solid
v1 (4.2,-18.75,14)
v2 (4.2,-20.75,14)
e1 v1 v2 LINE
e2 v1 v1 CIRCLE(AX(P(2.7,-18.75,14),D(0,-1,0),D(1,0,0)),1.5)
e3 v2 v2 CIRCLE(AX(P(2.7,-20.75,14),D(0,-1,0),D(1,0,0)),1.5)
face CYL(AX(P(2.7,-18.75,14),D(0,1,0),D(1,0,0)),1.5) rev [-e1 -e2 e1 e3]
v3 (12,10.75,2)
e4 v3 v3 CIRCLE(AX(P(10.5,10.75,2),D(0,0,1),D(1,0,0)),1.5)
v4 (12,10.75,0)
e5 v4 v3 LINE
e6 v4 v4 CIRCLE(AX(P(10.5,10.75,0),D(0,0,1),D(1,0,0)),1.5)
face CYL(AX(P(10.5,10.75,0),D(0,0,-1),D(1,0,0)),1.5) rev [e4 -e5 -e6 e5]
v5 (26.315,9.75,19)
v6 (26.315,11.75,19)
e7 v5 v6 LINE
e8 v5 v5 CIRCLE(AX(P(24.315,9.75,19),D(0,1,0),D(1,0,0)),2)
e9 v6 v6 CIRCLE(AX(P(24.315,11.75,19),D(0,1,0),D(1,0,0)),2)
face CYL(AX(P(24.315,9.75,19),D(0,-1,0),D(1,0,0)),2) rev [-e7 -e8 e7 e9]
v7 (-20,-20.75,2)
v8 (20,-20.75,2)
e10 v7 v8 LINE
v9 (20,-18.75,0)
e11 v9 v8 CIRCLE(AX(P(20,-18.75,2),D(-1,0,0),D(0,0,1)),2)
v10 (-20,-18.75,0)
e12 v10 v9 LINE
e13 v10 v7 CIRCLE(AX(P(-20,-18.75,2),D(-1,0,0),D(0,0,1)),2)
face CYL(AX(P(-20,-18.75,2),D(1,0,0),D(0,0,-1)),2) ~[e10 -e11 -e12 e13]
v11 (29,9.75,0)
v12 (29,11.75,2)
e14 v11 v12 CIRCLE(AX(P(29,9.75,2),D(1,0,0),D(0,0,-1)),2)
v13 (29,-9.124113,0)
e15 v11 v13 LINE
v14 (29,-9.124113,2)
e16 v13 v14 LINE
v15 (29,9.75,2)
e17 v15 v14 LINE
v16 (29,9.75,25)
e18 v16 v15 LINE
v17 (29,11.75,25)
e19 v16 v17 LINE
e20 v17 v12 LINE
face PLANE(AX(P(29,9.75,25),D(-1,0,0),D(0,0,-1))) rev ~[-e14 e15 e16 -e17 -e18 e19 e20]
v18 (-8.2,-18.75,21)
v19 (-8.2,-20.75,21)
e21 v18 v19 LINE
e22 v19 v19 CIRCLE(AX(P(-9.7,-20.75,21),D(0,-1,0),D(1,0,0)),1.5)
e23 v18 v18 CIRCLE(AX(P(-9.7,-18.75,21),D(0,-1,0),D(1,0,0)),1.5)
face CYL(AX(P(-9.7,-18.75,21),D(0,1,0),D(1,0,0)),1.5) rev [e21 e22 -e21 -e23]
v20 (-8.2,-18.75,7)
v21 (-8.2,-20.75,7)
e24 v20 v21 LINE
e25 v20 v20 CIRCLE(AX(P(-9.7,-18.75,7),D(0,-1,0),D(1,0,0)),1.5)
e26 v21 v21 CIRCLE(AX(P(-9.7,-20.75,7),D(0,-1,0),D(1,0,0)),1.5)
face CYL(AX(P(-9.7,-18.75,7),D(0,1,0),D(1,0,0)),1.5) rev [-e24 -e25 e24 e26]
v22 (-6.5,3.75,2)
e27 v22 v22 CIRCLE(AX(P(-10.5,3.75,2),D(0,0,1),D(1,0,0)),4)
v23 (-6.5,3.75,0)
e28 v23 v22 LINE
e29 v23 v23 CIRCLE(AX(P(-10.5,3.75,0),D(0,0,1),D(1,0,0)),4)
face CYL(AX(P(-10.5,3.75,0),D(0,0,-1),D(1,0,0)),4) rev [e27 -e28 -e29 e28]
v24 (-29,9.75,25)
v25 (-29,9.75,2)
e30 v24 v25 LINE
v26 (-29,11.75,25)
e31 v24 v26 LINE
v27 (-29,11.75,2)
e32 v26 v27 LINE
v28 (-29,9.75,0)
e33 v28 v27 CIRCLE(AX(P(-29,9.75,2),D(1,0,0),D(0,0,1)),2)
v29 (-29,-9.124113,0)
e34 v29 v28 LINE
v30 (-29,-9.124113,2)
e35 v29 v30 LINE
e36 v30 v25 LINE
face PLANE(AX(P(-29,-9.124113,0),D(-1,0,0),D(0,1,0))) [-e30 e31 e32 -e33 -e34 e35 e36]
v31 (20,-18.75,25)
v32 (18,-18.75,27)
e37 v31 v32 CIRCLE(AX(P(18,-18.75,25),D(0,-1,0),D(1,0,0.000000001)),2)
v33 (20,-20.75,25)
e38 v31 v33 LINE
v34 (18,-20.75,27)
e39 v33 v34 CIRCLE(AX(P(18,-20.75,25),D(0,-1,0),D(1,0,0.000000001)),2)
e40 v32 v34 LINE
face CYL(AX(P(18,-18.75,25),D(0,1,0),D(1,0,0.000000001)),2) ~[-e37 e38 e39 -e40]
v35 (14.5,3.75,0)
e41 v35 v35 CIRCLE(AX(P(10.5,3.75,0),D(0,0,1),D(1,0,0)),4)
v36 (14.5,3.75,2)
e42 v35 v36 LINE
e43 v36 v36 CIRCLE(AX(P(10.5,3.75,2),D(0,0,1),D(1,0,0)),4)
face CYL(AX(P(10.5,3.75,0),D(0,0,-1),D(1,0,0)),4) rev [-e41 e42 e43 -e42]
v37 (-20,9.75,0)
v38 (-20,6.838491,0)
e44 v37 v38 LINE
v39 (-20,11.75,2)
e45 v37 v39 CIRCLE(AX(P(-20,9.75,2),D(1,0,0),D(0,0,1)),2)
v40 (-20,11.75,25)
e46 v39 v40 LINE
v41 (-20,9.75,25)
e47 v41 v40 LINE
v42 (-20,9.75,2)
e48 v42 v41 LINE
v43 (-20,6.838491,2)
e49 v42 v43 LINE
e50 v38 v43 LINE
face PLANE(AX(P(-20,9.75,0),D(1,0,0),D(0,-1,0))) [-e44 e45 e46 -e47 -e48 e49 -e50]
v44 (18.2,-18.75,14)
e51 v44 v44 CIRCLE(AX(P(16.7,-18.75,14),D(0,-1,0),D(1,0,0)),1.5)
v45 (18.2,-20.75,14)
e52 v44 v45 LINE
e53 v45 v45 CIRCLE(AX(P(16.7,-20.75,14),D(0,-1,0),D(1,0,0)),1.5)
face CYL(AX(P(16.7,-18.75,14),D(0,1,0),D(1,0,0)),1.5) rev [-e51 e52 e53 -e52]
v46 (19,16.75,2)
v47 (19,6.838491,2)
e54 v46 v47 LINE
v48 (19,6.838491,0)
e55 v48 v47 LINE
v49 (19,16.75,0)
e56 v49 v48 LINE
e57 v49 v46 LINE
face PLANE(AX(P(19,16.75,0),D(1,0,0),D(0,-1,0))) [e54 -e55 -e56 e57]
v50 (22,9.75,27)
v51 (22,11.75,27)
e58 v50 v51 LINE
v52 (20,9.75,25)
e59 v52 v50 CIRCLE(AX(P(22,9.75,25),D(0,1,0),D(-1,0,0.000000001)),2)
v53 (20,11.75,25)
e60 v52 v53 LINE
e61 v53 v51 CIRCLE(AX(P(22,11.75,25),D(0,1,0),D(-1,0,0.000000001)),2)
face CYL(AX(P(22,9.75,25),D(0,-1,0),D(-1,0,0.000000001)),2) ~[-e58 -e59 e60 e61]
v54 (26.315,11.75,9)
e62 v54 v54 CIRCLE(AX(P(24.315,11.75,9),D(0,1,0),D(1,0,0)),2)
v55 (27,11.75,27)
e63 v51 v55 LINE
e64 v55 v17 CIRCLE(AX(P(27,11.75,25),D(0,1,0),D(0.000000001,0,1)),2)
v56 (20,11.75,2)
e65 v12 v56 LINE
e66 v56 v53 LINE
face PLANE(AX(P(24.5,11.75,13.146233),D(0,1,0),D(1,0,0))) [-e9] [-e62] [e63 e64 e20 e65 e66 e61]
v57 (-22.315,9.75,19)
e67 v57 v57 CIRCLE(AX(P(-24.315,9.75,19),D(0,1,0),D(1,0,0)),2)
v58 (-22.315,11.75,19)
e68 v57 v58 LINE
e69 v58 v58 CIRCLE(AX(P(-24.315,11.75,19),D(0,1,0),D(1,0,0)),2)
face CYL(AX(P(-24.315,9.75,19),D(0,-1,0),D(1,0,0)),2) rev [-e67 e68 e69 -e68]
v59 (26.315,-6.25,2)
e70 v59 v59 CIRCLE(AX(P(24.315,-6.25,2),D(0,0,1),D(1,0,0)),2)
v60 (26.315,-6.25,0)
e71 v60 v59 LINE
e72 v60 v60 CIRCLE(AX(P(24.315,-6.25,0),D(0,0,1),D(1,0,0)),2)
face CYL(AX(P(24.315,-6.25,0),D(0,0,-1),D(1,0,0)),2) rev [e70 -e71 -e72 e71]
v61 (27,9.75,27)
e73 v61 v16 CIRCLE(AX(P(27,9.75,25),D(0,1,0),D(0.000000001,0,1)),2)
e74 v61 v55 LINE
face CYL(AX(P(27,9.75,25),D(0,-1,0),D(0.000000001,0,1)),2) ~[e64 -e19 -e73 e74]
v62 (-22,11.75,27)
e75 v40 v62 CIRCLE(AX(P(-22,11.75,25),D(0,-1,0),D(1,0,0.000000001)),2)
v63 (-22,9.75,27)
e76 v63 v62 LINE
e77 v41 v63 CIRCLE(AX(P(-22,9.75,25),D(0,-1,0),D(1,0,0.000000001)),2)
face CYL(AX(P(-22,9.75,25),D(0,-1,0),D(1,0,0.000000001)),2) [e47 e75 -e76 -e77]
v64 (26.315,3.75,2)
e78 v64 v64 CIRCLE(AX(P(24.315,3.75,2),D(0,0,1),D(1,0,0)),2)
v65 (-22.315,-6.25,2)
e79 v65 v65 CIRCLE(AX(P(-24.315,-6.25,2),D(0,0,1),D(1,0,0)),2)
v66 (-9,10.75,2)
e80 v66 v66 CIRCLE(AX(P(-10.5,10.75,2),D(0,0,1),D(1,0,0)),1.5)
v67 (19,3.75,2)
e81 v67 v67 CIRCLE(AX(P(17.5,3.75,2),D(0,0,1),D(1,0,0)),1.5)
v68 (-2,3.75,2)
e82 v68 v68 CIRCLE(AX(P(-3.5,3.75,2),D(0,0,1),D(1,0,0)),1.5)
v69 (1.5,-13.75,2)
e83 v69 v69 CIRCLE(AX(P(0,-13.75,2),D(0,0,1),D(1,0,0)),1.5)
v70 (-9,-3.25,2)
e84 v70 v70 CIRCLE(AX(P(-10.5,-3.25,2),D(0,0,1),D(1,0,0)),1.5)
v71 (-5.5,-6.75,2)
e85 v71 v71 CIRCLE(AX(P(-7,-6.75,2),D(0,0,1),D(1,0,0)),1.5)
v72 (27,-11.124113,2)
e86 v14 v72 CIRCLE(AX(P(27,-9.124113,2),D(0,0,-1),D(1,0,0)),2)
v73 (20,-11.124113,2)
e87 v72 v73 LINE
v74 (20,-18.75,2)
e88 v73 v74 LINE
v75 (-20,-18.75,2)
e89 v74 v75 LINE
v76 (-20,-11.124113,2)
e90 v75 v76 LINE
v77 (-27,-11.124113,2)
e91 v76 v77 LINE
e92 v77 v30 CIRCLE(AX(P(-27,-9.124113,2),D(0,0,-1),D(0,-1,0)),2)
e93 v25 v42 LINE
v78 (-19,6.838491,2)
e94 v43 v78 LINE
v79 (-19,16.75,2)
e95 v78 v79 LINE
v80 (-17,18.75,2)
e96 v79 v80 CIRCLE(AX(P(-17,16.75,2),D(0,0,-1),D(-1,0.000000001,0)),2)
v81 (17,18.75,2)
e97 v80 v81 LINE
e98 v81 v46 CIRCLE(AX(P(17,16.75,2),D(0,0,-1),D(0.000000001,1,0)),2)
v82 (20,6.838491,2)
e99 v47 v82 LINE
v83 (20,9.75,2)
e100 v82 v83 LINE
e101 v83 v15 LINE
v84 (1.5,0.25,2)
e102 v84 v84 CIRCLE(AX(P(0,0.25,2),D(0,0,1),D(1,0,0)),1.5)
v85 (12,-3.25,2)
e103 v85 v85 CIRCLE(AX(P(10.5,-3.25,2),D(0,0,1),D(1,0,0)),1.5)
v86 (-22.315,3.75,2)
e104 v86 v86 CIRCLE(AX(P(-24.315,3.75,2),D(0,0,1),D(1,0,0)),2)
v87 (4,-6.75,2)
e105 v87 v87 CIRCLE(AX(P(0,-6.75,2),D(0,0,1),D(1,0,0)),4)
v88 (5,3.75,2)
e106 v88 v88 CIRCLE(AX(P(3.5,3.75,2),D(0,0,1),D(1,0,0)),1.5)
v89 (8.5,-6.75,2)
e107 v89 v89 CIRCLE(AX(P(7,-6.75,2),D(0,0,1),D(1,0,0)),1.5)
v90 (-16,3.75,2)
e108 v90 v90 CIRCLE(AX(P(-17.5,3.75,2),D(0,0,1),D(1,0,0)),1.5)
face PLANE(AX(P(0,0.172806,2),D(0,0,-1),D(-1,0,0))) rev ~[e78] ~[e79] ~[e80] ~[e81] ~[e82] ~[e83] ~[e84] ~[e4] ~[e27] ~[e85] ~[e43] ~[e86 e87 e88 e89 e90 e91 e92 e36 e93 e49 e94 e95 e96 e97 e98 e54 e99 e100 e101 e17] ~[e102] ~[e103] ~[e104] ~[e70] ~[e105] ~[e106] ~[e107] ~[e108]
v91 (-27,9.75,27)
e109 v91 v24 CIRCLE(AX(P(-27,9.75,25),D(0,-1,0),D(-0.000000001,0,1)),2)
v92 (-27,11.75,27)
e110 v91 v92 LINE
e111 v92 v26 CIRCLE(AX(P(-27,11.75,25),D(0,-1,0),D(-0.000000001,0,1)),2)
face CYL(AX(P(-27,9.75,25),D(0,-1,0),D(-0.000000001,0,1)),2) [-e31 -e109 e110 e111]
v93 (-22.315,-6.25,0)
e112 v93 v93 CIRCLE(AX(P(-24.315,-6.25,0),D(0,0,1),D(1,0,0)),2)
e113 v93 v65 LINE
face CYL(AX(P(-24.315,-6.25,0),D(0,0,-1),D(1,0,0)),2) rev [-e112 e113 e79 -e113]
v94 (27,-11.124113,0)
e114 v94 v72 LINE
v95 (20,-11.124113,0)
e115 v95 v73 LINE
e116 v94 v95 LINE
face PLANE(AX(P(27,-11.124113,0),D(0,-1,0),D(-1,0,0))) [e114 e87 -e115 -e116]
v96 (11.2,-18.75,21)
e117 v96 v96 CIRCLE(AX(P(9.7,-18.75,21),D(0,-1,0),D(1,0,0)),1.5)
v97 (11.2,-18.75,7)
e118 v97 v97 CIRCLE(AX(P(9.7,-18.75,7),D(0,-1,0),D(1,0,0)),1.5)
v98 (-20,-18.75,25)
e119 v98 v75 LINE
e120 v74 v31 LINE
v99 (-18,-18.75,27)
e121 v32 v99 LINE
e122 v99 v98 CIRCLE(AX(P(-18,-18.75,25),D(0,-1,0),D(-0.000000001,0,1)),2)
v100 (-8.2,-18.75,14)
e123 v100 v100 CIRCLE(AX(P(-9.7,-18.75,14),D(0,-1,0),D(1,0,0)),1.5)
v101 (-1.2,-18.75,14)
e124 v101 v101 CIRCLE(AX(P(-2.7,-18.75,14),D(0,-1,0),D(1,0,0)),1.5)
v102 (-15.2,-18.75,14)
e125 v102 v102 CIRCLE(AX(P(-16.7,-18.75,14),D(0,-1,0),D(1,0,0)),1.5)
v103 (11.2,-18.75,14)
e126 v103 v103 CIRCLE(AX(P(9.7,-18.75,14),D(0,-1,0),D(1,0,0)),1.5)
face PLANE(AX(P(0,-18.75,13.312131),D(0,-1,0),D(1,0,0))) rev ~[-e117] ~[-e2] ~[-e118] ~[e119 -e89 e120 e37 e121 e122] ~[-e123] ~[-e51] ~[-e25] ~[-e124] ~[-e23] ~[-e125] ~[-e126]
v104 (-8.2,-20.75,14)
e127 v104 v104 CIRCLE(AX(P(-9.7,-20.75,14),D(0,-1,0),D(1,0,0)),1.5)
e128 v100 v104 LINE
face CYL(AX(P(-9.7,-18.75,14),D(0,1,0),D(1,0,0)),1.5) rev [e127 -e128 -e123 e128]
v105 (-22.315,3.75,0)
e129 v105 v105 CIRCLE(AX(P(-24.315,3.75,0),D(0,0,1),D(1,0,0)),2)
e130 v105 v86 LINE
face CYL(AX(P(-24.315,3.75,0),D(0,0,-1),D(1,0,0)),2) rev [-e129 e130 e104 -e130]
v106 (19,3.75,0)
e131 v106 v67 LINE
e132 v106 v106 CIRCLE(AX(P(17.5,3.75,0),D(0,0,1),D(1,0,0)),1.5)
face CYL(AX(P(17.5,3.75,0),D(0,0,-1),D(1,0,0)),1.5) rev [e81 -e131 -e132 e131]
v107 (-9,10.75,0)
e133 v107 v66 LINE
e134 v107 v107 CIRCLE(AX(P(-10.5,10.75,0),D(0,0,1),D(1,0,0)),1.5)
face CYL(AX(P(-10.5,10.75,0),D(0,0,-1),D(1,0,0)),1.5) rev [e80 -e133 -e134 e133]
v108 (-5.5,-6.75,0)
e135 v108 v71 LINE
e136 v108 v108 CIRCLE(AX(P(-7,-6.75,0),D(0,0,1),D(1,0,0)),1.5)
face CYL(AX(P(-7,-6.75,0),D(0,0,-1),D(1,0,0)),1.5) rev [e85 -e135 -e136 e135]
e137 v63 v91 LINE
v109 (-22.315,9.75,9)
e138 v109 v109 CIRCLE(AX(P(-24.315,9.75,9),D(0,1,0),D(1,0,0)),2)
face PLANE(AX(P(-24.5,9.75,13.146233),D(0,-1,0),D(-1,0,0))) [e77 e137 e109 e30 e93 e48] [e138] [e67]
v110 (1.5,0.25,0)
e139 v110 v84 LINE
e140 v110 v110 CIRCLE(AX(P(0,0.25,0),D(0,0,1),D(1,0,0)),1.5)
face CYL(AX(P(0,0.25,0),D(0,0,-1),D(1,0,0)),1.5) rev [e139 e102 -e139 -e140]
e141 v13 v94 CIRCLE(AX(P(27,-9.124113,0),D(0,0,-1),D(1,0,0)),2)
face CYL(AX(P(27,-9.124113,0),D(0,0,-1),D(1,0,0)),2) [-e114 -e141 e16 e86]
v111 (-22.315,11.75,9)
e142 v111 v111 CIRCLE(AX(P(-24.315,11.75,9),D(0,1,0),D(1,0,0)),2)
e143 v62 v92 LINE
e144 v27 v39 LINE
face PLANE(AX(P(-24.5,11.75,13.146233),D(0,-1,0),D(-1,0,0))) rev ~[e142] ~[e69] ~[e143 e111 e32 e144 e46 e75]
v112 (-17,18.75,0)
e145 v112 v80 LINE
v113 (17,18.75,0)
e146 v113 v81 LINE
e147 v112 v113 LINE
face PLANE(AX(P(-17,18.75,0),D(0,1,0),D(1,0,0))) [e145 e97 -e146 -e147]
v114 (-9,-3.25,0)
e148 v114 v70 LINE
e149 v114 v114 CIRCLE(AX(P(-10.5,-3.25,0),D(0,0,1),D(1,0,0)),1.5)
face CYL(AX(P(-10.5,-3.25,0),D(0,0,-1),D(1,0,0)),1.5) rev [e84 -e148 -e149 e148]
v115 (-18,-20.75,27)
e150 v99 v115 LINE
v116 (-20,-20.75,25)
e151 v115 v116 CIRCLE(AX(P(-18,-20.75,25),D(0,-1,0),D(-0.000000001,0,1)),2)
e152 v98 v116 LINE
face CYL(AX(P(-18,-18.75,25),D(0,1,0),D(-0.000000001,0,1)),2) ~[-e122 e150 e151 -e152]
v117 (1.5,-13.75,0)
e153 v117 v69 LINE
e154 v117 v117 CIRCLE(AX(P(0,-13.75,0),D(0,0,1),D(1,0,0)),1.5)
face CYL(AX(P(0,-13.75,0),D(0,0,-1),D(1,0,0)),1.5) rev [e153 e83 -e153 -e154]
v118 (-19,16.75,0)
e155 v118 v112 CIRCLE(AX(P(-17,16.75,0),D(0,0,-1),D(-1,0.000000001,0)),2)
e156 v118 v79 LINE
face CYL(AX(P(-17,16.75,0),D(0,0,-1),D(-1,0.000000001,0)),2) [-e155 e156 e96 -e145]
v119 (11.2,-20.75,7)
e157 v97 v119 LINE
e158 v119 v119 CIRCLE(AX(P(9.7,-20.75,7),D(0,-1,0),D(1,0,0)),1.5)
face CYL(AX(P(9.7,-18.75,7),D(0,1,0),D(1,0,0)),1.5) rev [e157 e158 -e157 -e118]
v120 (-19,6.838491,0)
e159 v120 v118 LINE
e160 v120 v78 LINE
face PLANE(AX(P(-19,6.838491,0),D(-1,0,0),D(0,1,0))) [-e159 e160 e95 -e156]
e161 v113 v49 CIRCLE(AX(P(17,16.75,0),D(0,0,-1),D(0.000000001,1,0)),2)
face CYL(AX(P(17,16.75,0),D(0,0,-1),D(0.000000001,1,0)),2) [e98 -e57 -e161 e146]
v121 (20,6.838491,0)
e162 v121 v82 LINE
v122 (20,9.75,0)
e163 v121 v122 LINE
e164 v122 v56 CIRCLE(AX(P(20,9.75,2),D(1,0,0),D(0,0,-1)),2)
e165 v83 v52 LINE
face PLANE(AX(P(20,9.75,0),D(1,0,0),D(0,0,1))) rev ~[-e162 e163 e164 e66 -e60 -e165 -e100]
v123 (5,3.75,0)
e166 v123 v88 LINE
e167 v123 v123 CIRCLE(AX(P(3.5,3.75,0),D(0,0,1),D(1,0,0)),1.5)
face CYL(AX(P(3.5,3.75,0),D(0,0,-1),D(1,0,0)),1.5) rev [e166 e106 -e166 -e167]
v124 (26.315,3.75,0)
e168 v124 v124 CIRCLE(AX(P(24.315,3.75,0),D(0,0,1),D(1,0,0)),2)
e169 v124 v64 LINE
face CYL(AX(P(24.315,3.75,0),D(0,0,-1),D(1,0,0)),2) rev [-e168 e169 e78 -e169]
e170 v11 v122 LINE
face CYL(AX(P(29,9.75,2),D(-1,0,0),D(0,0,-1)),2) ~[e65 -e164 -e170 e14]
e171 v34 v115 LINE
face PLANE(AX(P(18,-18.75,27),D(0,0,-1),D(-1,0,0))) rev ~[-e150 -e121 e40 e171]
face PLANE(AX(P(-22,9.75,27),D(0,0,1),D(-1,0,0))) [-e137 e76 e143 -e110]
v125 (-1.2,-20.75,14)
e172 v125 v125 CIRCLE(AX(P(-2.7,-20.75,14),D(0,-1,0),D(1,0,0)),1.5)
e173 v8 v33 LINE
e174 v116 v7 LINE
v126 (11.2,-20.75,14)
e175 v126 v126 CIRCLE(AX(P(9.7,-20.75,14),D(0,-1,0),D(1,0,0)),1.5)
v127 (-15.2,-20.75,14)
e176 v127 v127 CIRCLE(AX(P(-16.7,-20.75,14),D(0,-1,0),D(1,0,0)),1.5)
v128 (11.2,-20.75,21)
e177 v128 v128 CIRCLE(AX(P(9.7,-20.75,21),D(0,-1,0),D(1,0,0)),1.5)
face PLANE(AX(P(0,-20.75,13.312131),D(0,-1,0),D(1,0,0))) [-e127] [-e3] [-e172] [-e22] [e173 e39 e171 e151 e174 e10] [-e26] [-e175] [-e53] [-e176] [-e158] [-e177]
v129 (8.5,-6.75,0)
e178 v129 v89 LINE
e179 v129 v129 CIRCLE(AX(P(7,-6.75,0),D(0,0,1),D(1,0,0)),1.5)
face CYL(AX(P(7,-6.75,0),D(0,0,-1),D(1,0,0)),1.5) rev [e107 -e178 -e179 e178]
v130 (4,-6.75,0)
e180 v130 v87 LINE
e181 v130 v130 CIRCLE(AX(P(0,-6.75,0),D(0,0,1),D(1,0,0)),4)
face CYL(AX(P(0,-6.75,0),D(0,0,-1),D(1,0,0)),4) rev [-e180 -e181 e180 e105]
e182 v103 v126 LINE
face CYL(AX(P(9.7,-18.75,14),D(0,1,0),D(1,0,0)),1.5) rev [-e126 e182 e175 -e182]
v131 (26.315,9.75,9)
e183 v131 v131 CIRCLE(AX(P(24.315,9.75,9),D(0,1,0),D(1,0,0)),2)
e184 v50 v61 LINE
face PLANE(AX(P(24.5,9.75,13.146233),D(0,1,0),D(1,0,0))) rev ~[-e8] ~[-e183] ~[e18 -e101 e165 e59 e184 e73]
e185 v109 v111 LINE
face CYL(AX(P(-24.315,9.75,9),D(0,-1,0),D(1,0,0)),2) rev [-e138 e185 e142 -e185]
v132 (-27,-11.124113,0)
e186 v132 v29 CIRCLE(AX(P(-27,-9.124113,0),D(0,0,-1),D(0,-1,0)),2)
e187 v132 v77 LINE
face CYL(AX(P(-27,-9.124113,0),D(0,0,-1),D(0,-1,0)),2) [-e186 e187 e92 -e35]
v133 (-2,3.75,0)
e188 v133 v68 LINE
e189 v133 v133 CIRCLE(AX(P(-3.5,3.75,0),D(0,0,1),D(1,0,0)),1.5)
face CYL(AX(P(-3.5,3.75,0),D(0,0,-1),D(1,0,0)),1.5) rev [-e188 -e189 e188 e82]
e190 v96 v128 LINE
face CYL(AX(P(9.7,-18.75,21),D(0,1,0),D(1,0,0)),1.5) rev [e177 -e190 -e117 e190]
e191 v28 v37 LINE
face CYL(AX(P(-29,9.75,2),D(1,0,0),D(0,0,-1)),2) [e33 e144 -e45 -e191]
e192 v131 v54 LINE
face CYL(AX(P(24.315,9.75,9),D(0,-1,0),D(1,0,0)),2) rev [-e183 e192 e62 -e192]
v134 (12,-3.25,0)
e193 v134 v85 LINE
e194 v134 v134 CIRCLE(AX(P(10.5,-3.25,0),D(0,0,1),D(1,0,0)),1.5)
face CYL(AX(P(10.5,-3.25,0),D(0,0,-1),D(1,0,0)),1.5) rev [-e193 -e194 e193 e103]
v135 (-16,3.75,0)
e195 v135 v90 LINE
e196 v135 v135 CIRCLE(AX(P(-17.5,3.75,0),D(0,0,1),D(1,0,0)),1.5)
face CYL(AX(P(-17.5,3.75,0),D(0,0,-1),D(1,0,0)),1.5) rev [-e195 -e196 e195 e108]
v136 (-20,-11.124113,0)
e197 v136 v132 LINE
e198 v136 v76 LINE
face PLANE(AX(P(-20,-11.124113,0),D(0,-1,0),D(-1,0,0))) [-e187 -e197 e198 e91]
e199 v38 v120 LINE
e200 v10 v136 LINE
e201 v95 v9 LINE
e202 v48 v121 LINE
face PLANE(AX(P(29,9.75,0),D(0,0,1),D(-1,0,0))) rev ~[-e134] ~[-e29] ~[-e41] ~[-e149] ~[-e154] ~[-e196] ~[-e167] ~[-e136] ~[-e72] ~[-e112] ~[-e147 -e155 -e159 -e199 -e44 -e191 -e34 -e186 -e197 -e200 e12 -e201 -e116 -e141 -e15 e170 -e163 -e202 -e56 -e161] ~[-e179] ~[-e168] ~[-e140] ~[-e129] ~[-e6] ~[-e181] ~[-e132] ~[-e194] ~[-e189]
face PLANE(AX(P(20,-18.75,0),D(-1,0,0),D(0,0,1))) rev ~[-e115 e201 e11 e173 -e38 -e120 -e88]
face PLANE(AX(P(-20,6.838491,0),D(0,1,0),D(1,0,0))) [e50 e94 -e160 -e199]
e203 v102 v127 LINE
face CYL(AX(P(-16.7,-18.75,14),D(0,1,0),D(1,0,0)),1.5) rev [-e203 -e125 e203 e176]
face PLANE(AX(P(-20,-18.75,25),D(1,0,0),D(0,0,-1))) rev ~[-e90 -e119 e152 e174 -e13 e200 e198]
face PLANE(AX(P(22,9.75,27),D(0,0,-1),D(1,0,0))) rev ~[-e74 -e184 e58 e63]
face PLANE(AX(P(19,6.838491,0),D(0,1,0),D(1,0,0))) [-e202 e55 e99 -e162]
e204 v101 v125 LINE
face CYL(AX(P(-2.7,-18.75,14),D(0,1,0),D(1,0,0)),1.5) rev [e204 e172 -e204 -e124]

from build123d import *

# Parameters (mm, degrees)
SKETCH_1_R      = 4
SKETCH_1_R_2    = 1.5
SKETCH_1_R_3    = 2
EXTRUDE_1_DEPTH = 2
SKETCH_2_R      = 1.5
EXTRUDE_2_DEPTH = 2
FILLET_2_R      = 2
SKETCH_3_R      = 2
EXTRUDE_3_DEPTH = 2
FILLET_3_R      = 2
FILLET_4_R      = 2


with BuildPart() as part:
    # 草图1 → 凸台-拉伸1 (new body)
    with BuildSketch(Plane.XY):
        with BuildLine():
            Line((-17, 18.75), (17, 18.75))
            ThreePointArc((17, 18.75), (18.414213562, 18.164213562), (19, 16.75))
            Line((19, 16.75), (19, 6.838490702))
            Line((19, 6.838490702), (20, 6.838490702))
            Line((20, 6.838490702), (20, 9.75))
            Line((20, 9.75), (27, 9.75))
            Line((27, 9.75), (29, 9.75))
            Line((29, 9.75), (29, 7.75))
            Line((29, 7.75), (29, -9.12411328))
            ThreePointArc((29, -9.12411328), (28.414213562, -10.538326843), (27, -11.12411328))
            Line((27, -11.12411328), (20, -11.12411328))
            Line((20, -11.12411328), (20, -16.75))
            Line((20, -16.75), (20, -18.75))
            Line((20, -18.75), (18, -18.75))
            Line((18, -18.75), (-18, -18.75))
            Line((-18, -18.75), (-20, -18.75))
            Line((-20, -18.75), (-20, -16.75))
            Line((-20, -16.75), (-20, -11.12411328))
            Line((-20, -11.12411328), (-27, -11.12411328))
            ThreePointArc((-27, -11.12411328), (-28.414213562, -10.538326843), (-29, -9.12411328))
            Line((-29, -9.12411328), (-29, 7.75))
            Line((-29, 7.75), (-29, 9.75))
            Line((-29, 9.75), (-27, 9.75))
            Line((-27, 9.75), (-20, 9.75))
            Line((-20, 9.75), (-20, 6.838490702))
            Line((-20, 6.838490702), (-19, 6.838490702))
            Line((-19, 6.838490702), (-19, 16.75))
            ThreePointArc((-19, 16.75), (-18.414213562, 18.164213562), (-17, 18.75))
        make_face()
        with Locations((0, -6.75)):
            Circle(SKETCH_1_R, mode=Mode.SUBTRACT)
        with Locations((-10.5, 3.75)):
            Circle(SKETCH_1_R, mode=Mode.SUBTRACT)
        with Locations((-7, -6.75)):
            Circle(SKETCH_1_R_2, mode=Mode.SUBTRACT)
        with Locations((0, 0.25)):
            Circle(SKETCH_1_R_2, mode=Mode.SUBTRACT)
        with Locations((7, -6.75)):
            Circle(SKETCH_1_R_2, mode=Mode.SUBTRACT)
        with Locations((0, -13.75)):
            Circle(SKETCH_1_R_2, mode=Mode.SUBTRACT)
        with Locations((-17.5, 3.75)):
            Circle(SKETCH_1_R_2, mode=Mode.SUBTRACT)
        with Locations((10.5, -3.25)):
            Circle(SKETCH_1_R_2, mode=Mode.SUBTRACT)
        with Locations((-10.5, 10.75)):
            Circle(SKETCH_1_R_2, mode=Mode.SUBTRACT)
        with Locations((-3.5, 3.75)):
            Circle(SKETCH_1_R_2, mode=Mode.SUBTRACT)
        with Locations((-10.5, -3.25)):
            Circle(SKETCH_1_R_2, mode=Mode.SUBTRACT)
        with Locations((17.5, 3.75)):
            Circle(SKETCH_1_R_2, mode=Mode.SUBTRACT)
        with Locations((3.5, 3.75)):
            Circle(SKETCH_1_R_2, mode=Mode.SUBTRACT)
        with Locations((10.5, 3.75)):
            Circle(SKETCH_1_R, mode=Mode.SUBTRACT)
        with Locations((10.5, 10.75)):
            Circle(SKETCH_1_R_2, mode=Mode.SUBTRACT)
        with Locations((-24.315, -6.25)):
            Circle(SKETCH_1_R_3, mode=Mode.SUBTRACT)
        with Locations((-24.315, 3.75)):
            Circle(SKETCH_1_R_3, mode=Mode.SUBTRACT)
        with Locations((24.315, 3.75)):
            Circle(SKETCH_1_R_3, mode=Mode.SUBTRACT)
        with Locations((24.315, -6.25)):
            Circle(SKETCH_1_R_3, mode=Mode.SUBTRACT)
    extrude(amount=EXTRUDE_1_DEPTH)

    # 草图2 → 凸台-拉伸2 (add)
    with BuildSketch(Plane.XZ.offset(18.75)):
        with BuildLine():
            Line((-20, 0), (20, 0))
            Line((20, 0), (20, 25))
            ThreePointArc((20, 25), (19.414213562, 26.414213562), (18, 27))
            Line((18, 27), (-18, 27))
            ThreePointArc((-18, 27), (-19.414213562, 26.414213562), (-20, 25))
            Line((-20, 25), (-20, 0))
        make_face()
        with Locations((9.7, 14)):
            Circle(SKETCH_2_R, mode=Mode.SUBTRACT)
        with Locations((-9.7, 14)):
            Circle(SKETCH_2_R, mode=Mode.SUBTRACT)
        with Locations((-2.7, 14)):
            Circle(SKETCH_2_R, mode=Mode.SUBTRACT)
        with Locations((16.7, 14)):
            Circle(SKETCH_2_R, mode=Mode.SUBTRACT)
        with Locations((9.7, 7)):
            Circle(SKETCH_2_R, mode=Mode.SUBTRACT)
        with Locations((2.7, 14)):
            Circle(SKETCH_2_R, mode=Mode.SUBTRACT)
        with Locations((9.7, 21)):
            Circle(SKETCH_2_R, mode=Mode.SUBTRACT)
        with Locations((-9.7, 7)):
            Circle(SKETCH_2_R, mode=Mode.SUBTRACT)
        with Locations((-16.7, 14)):
            Circle(SKETCH_2_R, mode=Mode.SUBTRACT)
        with Locations((-9.7, 21)):
            Circle(SKETCH_2_R, mode=Mode.SUBTRACT)
    extrude(amount=EXTRUDE_2_DEPTH)

    # 圆角2
    fillet_2_edges = [part.edges().sort_by_distance(p)[0] for p in [
        (0, -20.75, 0),
    ]]
    fillet(fillet_2_edges, radius=FILLET_2_R)

    # 草图3 → 凸台-拉伸3 (add)
    with BuildSketch(Plane(origin=(0, 9.75, 0), x_dir=(1, 0, 0), z_dir=(0, 1, 0))):
        with BuildLine():
            Line((29, 0), (20, 0))
            Line((20, 0), (20, -25))
            ThreePointArc((20, -25), (20.585786438, -26.414213562), (22, -27))
            Line((22, -27), (27, -27))
            ThreePointArc((27, -27), (28.414213562, -26.414213562), (29, -25))
            Line((29, -25), (29, 0))
        make_face()
        with Locations((24.315, -9)):
            Circle(SKETCH_3_R, mode=Mode.SUBTRACT)
        with Locations((24.315, -19)):
            Circle(SKETCH_3_R, mode=Mode.SUBTRACT)
        with BuildLine():
            Line((-29, 0), (-20, 0))
            Line((-20, 0), (-20, -25))
            ThreePointArc((-20, -25), (-20.585786438, -26.414213562), (-22, -27))
            Line((-22, -27), (-27, -27))
            ThreePointArc((-27, -27), (-28.414213562, -26.414213562), (-29, -25))
            Line((-29, -25), (-29, 0))
        make_face()
        with Locations((-24.315, -19)):
            Circle(SKETCH_3_R, mode=Mode.SUBTRACT)
        with Locations((-24.315, -9)):
            Circle(SKETCH_3_R, mode=Mode.SUBTRACT)
    extrude(amount=EXTRUDE_3_DEPTH)

    # 圆角3
    fillet_3_edges = [part.edges().sort_by_distance(p)[0] for p in [
        (24.5, 11.75, 0),
    ]]
    fillet(fillet_3_edges, radius=FILLET_3_R)

    # 圆角4
    fillet_4_edges = [part.edges().sort_by_distance(p)[0] for p in [
        (-24.5, 11.75, 0),
    ]]
    fillet(fillet_4_edges, radius=FILLET_4_R)


solid = part.part
